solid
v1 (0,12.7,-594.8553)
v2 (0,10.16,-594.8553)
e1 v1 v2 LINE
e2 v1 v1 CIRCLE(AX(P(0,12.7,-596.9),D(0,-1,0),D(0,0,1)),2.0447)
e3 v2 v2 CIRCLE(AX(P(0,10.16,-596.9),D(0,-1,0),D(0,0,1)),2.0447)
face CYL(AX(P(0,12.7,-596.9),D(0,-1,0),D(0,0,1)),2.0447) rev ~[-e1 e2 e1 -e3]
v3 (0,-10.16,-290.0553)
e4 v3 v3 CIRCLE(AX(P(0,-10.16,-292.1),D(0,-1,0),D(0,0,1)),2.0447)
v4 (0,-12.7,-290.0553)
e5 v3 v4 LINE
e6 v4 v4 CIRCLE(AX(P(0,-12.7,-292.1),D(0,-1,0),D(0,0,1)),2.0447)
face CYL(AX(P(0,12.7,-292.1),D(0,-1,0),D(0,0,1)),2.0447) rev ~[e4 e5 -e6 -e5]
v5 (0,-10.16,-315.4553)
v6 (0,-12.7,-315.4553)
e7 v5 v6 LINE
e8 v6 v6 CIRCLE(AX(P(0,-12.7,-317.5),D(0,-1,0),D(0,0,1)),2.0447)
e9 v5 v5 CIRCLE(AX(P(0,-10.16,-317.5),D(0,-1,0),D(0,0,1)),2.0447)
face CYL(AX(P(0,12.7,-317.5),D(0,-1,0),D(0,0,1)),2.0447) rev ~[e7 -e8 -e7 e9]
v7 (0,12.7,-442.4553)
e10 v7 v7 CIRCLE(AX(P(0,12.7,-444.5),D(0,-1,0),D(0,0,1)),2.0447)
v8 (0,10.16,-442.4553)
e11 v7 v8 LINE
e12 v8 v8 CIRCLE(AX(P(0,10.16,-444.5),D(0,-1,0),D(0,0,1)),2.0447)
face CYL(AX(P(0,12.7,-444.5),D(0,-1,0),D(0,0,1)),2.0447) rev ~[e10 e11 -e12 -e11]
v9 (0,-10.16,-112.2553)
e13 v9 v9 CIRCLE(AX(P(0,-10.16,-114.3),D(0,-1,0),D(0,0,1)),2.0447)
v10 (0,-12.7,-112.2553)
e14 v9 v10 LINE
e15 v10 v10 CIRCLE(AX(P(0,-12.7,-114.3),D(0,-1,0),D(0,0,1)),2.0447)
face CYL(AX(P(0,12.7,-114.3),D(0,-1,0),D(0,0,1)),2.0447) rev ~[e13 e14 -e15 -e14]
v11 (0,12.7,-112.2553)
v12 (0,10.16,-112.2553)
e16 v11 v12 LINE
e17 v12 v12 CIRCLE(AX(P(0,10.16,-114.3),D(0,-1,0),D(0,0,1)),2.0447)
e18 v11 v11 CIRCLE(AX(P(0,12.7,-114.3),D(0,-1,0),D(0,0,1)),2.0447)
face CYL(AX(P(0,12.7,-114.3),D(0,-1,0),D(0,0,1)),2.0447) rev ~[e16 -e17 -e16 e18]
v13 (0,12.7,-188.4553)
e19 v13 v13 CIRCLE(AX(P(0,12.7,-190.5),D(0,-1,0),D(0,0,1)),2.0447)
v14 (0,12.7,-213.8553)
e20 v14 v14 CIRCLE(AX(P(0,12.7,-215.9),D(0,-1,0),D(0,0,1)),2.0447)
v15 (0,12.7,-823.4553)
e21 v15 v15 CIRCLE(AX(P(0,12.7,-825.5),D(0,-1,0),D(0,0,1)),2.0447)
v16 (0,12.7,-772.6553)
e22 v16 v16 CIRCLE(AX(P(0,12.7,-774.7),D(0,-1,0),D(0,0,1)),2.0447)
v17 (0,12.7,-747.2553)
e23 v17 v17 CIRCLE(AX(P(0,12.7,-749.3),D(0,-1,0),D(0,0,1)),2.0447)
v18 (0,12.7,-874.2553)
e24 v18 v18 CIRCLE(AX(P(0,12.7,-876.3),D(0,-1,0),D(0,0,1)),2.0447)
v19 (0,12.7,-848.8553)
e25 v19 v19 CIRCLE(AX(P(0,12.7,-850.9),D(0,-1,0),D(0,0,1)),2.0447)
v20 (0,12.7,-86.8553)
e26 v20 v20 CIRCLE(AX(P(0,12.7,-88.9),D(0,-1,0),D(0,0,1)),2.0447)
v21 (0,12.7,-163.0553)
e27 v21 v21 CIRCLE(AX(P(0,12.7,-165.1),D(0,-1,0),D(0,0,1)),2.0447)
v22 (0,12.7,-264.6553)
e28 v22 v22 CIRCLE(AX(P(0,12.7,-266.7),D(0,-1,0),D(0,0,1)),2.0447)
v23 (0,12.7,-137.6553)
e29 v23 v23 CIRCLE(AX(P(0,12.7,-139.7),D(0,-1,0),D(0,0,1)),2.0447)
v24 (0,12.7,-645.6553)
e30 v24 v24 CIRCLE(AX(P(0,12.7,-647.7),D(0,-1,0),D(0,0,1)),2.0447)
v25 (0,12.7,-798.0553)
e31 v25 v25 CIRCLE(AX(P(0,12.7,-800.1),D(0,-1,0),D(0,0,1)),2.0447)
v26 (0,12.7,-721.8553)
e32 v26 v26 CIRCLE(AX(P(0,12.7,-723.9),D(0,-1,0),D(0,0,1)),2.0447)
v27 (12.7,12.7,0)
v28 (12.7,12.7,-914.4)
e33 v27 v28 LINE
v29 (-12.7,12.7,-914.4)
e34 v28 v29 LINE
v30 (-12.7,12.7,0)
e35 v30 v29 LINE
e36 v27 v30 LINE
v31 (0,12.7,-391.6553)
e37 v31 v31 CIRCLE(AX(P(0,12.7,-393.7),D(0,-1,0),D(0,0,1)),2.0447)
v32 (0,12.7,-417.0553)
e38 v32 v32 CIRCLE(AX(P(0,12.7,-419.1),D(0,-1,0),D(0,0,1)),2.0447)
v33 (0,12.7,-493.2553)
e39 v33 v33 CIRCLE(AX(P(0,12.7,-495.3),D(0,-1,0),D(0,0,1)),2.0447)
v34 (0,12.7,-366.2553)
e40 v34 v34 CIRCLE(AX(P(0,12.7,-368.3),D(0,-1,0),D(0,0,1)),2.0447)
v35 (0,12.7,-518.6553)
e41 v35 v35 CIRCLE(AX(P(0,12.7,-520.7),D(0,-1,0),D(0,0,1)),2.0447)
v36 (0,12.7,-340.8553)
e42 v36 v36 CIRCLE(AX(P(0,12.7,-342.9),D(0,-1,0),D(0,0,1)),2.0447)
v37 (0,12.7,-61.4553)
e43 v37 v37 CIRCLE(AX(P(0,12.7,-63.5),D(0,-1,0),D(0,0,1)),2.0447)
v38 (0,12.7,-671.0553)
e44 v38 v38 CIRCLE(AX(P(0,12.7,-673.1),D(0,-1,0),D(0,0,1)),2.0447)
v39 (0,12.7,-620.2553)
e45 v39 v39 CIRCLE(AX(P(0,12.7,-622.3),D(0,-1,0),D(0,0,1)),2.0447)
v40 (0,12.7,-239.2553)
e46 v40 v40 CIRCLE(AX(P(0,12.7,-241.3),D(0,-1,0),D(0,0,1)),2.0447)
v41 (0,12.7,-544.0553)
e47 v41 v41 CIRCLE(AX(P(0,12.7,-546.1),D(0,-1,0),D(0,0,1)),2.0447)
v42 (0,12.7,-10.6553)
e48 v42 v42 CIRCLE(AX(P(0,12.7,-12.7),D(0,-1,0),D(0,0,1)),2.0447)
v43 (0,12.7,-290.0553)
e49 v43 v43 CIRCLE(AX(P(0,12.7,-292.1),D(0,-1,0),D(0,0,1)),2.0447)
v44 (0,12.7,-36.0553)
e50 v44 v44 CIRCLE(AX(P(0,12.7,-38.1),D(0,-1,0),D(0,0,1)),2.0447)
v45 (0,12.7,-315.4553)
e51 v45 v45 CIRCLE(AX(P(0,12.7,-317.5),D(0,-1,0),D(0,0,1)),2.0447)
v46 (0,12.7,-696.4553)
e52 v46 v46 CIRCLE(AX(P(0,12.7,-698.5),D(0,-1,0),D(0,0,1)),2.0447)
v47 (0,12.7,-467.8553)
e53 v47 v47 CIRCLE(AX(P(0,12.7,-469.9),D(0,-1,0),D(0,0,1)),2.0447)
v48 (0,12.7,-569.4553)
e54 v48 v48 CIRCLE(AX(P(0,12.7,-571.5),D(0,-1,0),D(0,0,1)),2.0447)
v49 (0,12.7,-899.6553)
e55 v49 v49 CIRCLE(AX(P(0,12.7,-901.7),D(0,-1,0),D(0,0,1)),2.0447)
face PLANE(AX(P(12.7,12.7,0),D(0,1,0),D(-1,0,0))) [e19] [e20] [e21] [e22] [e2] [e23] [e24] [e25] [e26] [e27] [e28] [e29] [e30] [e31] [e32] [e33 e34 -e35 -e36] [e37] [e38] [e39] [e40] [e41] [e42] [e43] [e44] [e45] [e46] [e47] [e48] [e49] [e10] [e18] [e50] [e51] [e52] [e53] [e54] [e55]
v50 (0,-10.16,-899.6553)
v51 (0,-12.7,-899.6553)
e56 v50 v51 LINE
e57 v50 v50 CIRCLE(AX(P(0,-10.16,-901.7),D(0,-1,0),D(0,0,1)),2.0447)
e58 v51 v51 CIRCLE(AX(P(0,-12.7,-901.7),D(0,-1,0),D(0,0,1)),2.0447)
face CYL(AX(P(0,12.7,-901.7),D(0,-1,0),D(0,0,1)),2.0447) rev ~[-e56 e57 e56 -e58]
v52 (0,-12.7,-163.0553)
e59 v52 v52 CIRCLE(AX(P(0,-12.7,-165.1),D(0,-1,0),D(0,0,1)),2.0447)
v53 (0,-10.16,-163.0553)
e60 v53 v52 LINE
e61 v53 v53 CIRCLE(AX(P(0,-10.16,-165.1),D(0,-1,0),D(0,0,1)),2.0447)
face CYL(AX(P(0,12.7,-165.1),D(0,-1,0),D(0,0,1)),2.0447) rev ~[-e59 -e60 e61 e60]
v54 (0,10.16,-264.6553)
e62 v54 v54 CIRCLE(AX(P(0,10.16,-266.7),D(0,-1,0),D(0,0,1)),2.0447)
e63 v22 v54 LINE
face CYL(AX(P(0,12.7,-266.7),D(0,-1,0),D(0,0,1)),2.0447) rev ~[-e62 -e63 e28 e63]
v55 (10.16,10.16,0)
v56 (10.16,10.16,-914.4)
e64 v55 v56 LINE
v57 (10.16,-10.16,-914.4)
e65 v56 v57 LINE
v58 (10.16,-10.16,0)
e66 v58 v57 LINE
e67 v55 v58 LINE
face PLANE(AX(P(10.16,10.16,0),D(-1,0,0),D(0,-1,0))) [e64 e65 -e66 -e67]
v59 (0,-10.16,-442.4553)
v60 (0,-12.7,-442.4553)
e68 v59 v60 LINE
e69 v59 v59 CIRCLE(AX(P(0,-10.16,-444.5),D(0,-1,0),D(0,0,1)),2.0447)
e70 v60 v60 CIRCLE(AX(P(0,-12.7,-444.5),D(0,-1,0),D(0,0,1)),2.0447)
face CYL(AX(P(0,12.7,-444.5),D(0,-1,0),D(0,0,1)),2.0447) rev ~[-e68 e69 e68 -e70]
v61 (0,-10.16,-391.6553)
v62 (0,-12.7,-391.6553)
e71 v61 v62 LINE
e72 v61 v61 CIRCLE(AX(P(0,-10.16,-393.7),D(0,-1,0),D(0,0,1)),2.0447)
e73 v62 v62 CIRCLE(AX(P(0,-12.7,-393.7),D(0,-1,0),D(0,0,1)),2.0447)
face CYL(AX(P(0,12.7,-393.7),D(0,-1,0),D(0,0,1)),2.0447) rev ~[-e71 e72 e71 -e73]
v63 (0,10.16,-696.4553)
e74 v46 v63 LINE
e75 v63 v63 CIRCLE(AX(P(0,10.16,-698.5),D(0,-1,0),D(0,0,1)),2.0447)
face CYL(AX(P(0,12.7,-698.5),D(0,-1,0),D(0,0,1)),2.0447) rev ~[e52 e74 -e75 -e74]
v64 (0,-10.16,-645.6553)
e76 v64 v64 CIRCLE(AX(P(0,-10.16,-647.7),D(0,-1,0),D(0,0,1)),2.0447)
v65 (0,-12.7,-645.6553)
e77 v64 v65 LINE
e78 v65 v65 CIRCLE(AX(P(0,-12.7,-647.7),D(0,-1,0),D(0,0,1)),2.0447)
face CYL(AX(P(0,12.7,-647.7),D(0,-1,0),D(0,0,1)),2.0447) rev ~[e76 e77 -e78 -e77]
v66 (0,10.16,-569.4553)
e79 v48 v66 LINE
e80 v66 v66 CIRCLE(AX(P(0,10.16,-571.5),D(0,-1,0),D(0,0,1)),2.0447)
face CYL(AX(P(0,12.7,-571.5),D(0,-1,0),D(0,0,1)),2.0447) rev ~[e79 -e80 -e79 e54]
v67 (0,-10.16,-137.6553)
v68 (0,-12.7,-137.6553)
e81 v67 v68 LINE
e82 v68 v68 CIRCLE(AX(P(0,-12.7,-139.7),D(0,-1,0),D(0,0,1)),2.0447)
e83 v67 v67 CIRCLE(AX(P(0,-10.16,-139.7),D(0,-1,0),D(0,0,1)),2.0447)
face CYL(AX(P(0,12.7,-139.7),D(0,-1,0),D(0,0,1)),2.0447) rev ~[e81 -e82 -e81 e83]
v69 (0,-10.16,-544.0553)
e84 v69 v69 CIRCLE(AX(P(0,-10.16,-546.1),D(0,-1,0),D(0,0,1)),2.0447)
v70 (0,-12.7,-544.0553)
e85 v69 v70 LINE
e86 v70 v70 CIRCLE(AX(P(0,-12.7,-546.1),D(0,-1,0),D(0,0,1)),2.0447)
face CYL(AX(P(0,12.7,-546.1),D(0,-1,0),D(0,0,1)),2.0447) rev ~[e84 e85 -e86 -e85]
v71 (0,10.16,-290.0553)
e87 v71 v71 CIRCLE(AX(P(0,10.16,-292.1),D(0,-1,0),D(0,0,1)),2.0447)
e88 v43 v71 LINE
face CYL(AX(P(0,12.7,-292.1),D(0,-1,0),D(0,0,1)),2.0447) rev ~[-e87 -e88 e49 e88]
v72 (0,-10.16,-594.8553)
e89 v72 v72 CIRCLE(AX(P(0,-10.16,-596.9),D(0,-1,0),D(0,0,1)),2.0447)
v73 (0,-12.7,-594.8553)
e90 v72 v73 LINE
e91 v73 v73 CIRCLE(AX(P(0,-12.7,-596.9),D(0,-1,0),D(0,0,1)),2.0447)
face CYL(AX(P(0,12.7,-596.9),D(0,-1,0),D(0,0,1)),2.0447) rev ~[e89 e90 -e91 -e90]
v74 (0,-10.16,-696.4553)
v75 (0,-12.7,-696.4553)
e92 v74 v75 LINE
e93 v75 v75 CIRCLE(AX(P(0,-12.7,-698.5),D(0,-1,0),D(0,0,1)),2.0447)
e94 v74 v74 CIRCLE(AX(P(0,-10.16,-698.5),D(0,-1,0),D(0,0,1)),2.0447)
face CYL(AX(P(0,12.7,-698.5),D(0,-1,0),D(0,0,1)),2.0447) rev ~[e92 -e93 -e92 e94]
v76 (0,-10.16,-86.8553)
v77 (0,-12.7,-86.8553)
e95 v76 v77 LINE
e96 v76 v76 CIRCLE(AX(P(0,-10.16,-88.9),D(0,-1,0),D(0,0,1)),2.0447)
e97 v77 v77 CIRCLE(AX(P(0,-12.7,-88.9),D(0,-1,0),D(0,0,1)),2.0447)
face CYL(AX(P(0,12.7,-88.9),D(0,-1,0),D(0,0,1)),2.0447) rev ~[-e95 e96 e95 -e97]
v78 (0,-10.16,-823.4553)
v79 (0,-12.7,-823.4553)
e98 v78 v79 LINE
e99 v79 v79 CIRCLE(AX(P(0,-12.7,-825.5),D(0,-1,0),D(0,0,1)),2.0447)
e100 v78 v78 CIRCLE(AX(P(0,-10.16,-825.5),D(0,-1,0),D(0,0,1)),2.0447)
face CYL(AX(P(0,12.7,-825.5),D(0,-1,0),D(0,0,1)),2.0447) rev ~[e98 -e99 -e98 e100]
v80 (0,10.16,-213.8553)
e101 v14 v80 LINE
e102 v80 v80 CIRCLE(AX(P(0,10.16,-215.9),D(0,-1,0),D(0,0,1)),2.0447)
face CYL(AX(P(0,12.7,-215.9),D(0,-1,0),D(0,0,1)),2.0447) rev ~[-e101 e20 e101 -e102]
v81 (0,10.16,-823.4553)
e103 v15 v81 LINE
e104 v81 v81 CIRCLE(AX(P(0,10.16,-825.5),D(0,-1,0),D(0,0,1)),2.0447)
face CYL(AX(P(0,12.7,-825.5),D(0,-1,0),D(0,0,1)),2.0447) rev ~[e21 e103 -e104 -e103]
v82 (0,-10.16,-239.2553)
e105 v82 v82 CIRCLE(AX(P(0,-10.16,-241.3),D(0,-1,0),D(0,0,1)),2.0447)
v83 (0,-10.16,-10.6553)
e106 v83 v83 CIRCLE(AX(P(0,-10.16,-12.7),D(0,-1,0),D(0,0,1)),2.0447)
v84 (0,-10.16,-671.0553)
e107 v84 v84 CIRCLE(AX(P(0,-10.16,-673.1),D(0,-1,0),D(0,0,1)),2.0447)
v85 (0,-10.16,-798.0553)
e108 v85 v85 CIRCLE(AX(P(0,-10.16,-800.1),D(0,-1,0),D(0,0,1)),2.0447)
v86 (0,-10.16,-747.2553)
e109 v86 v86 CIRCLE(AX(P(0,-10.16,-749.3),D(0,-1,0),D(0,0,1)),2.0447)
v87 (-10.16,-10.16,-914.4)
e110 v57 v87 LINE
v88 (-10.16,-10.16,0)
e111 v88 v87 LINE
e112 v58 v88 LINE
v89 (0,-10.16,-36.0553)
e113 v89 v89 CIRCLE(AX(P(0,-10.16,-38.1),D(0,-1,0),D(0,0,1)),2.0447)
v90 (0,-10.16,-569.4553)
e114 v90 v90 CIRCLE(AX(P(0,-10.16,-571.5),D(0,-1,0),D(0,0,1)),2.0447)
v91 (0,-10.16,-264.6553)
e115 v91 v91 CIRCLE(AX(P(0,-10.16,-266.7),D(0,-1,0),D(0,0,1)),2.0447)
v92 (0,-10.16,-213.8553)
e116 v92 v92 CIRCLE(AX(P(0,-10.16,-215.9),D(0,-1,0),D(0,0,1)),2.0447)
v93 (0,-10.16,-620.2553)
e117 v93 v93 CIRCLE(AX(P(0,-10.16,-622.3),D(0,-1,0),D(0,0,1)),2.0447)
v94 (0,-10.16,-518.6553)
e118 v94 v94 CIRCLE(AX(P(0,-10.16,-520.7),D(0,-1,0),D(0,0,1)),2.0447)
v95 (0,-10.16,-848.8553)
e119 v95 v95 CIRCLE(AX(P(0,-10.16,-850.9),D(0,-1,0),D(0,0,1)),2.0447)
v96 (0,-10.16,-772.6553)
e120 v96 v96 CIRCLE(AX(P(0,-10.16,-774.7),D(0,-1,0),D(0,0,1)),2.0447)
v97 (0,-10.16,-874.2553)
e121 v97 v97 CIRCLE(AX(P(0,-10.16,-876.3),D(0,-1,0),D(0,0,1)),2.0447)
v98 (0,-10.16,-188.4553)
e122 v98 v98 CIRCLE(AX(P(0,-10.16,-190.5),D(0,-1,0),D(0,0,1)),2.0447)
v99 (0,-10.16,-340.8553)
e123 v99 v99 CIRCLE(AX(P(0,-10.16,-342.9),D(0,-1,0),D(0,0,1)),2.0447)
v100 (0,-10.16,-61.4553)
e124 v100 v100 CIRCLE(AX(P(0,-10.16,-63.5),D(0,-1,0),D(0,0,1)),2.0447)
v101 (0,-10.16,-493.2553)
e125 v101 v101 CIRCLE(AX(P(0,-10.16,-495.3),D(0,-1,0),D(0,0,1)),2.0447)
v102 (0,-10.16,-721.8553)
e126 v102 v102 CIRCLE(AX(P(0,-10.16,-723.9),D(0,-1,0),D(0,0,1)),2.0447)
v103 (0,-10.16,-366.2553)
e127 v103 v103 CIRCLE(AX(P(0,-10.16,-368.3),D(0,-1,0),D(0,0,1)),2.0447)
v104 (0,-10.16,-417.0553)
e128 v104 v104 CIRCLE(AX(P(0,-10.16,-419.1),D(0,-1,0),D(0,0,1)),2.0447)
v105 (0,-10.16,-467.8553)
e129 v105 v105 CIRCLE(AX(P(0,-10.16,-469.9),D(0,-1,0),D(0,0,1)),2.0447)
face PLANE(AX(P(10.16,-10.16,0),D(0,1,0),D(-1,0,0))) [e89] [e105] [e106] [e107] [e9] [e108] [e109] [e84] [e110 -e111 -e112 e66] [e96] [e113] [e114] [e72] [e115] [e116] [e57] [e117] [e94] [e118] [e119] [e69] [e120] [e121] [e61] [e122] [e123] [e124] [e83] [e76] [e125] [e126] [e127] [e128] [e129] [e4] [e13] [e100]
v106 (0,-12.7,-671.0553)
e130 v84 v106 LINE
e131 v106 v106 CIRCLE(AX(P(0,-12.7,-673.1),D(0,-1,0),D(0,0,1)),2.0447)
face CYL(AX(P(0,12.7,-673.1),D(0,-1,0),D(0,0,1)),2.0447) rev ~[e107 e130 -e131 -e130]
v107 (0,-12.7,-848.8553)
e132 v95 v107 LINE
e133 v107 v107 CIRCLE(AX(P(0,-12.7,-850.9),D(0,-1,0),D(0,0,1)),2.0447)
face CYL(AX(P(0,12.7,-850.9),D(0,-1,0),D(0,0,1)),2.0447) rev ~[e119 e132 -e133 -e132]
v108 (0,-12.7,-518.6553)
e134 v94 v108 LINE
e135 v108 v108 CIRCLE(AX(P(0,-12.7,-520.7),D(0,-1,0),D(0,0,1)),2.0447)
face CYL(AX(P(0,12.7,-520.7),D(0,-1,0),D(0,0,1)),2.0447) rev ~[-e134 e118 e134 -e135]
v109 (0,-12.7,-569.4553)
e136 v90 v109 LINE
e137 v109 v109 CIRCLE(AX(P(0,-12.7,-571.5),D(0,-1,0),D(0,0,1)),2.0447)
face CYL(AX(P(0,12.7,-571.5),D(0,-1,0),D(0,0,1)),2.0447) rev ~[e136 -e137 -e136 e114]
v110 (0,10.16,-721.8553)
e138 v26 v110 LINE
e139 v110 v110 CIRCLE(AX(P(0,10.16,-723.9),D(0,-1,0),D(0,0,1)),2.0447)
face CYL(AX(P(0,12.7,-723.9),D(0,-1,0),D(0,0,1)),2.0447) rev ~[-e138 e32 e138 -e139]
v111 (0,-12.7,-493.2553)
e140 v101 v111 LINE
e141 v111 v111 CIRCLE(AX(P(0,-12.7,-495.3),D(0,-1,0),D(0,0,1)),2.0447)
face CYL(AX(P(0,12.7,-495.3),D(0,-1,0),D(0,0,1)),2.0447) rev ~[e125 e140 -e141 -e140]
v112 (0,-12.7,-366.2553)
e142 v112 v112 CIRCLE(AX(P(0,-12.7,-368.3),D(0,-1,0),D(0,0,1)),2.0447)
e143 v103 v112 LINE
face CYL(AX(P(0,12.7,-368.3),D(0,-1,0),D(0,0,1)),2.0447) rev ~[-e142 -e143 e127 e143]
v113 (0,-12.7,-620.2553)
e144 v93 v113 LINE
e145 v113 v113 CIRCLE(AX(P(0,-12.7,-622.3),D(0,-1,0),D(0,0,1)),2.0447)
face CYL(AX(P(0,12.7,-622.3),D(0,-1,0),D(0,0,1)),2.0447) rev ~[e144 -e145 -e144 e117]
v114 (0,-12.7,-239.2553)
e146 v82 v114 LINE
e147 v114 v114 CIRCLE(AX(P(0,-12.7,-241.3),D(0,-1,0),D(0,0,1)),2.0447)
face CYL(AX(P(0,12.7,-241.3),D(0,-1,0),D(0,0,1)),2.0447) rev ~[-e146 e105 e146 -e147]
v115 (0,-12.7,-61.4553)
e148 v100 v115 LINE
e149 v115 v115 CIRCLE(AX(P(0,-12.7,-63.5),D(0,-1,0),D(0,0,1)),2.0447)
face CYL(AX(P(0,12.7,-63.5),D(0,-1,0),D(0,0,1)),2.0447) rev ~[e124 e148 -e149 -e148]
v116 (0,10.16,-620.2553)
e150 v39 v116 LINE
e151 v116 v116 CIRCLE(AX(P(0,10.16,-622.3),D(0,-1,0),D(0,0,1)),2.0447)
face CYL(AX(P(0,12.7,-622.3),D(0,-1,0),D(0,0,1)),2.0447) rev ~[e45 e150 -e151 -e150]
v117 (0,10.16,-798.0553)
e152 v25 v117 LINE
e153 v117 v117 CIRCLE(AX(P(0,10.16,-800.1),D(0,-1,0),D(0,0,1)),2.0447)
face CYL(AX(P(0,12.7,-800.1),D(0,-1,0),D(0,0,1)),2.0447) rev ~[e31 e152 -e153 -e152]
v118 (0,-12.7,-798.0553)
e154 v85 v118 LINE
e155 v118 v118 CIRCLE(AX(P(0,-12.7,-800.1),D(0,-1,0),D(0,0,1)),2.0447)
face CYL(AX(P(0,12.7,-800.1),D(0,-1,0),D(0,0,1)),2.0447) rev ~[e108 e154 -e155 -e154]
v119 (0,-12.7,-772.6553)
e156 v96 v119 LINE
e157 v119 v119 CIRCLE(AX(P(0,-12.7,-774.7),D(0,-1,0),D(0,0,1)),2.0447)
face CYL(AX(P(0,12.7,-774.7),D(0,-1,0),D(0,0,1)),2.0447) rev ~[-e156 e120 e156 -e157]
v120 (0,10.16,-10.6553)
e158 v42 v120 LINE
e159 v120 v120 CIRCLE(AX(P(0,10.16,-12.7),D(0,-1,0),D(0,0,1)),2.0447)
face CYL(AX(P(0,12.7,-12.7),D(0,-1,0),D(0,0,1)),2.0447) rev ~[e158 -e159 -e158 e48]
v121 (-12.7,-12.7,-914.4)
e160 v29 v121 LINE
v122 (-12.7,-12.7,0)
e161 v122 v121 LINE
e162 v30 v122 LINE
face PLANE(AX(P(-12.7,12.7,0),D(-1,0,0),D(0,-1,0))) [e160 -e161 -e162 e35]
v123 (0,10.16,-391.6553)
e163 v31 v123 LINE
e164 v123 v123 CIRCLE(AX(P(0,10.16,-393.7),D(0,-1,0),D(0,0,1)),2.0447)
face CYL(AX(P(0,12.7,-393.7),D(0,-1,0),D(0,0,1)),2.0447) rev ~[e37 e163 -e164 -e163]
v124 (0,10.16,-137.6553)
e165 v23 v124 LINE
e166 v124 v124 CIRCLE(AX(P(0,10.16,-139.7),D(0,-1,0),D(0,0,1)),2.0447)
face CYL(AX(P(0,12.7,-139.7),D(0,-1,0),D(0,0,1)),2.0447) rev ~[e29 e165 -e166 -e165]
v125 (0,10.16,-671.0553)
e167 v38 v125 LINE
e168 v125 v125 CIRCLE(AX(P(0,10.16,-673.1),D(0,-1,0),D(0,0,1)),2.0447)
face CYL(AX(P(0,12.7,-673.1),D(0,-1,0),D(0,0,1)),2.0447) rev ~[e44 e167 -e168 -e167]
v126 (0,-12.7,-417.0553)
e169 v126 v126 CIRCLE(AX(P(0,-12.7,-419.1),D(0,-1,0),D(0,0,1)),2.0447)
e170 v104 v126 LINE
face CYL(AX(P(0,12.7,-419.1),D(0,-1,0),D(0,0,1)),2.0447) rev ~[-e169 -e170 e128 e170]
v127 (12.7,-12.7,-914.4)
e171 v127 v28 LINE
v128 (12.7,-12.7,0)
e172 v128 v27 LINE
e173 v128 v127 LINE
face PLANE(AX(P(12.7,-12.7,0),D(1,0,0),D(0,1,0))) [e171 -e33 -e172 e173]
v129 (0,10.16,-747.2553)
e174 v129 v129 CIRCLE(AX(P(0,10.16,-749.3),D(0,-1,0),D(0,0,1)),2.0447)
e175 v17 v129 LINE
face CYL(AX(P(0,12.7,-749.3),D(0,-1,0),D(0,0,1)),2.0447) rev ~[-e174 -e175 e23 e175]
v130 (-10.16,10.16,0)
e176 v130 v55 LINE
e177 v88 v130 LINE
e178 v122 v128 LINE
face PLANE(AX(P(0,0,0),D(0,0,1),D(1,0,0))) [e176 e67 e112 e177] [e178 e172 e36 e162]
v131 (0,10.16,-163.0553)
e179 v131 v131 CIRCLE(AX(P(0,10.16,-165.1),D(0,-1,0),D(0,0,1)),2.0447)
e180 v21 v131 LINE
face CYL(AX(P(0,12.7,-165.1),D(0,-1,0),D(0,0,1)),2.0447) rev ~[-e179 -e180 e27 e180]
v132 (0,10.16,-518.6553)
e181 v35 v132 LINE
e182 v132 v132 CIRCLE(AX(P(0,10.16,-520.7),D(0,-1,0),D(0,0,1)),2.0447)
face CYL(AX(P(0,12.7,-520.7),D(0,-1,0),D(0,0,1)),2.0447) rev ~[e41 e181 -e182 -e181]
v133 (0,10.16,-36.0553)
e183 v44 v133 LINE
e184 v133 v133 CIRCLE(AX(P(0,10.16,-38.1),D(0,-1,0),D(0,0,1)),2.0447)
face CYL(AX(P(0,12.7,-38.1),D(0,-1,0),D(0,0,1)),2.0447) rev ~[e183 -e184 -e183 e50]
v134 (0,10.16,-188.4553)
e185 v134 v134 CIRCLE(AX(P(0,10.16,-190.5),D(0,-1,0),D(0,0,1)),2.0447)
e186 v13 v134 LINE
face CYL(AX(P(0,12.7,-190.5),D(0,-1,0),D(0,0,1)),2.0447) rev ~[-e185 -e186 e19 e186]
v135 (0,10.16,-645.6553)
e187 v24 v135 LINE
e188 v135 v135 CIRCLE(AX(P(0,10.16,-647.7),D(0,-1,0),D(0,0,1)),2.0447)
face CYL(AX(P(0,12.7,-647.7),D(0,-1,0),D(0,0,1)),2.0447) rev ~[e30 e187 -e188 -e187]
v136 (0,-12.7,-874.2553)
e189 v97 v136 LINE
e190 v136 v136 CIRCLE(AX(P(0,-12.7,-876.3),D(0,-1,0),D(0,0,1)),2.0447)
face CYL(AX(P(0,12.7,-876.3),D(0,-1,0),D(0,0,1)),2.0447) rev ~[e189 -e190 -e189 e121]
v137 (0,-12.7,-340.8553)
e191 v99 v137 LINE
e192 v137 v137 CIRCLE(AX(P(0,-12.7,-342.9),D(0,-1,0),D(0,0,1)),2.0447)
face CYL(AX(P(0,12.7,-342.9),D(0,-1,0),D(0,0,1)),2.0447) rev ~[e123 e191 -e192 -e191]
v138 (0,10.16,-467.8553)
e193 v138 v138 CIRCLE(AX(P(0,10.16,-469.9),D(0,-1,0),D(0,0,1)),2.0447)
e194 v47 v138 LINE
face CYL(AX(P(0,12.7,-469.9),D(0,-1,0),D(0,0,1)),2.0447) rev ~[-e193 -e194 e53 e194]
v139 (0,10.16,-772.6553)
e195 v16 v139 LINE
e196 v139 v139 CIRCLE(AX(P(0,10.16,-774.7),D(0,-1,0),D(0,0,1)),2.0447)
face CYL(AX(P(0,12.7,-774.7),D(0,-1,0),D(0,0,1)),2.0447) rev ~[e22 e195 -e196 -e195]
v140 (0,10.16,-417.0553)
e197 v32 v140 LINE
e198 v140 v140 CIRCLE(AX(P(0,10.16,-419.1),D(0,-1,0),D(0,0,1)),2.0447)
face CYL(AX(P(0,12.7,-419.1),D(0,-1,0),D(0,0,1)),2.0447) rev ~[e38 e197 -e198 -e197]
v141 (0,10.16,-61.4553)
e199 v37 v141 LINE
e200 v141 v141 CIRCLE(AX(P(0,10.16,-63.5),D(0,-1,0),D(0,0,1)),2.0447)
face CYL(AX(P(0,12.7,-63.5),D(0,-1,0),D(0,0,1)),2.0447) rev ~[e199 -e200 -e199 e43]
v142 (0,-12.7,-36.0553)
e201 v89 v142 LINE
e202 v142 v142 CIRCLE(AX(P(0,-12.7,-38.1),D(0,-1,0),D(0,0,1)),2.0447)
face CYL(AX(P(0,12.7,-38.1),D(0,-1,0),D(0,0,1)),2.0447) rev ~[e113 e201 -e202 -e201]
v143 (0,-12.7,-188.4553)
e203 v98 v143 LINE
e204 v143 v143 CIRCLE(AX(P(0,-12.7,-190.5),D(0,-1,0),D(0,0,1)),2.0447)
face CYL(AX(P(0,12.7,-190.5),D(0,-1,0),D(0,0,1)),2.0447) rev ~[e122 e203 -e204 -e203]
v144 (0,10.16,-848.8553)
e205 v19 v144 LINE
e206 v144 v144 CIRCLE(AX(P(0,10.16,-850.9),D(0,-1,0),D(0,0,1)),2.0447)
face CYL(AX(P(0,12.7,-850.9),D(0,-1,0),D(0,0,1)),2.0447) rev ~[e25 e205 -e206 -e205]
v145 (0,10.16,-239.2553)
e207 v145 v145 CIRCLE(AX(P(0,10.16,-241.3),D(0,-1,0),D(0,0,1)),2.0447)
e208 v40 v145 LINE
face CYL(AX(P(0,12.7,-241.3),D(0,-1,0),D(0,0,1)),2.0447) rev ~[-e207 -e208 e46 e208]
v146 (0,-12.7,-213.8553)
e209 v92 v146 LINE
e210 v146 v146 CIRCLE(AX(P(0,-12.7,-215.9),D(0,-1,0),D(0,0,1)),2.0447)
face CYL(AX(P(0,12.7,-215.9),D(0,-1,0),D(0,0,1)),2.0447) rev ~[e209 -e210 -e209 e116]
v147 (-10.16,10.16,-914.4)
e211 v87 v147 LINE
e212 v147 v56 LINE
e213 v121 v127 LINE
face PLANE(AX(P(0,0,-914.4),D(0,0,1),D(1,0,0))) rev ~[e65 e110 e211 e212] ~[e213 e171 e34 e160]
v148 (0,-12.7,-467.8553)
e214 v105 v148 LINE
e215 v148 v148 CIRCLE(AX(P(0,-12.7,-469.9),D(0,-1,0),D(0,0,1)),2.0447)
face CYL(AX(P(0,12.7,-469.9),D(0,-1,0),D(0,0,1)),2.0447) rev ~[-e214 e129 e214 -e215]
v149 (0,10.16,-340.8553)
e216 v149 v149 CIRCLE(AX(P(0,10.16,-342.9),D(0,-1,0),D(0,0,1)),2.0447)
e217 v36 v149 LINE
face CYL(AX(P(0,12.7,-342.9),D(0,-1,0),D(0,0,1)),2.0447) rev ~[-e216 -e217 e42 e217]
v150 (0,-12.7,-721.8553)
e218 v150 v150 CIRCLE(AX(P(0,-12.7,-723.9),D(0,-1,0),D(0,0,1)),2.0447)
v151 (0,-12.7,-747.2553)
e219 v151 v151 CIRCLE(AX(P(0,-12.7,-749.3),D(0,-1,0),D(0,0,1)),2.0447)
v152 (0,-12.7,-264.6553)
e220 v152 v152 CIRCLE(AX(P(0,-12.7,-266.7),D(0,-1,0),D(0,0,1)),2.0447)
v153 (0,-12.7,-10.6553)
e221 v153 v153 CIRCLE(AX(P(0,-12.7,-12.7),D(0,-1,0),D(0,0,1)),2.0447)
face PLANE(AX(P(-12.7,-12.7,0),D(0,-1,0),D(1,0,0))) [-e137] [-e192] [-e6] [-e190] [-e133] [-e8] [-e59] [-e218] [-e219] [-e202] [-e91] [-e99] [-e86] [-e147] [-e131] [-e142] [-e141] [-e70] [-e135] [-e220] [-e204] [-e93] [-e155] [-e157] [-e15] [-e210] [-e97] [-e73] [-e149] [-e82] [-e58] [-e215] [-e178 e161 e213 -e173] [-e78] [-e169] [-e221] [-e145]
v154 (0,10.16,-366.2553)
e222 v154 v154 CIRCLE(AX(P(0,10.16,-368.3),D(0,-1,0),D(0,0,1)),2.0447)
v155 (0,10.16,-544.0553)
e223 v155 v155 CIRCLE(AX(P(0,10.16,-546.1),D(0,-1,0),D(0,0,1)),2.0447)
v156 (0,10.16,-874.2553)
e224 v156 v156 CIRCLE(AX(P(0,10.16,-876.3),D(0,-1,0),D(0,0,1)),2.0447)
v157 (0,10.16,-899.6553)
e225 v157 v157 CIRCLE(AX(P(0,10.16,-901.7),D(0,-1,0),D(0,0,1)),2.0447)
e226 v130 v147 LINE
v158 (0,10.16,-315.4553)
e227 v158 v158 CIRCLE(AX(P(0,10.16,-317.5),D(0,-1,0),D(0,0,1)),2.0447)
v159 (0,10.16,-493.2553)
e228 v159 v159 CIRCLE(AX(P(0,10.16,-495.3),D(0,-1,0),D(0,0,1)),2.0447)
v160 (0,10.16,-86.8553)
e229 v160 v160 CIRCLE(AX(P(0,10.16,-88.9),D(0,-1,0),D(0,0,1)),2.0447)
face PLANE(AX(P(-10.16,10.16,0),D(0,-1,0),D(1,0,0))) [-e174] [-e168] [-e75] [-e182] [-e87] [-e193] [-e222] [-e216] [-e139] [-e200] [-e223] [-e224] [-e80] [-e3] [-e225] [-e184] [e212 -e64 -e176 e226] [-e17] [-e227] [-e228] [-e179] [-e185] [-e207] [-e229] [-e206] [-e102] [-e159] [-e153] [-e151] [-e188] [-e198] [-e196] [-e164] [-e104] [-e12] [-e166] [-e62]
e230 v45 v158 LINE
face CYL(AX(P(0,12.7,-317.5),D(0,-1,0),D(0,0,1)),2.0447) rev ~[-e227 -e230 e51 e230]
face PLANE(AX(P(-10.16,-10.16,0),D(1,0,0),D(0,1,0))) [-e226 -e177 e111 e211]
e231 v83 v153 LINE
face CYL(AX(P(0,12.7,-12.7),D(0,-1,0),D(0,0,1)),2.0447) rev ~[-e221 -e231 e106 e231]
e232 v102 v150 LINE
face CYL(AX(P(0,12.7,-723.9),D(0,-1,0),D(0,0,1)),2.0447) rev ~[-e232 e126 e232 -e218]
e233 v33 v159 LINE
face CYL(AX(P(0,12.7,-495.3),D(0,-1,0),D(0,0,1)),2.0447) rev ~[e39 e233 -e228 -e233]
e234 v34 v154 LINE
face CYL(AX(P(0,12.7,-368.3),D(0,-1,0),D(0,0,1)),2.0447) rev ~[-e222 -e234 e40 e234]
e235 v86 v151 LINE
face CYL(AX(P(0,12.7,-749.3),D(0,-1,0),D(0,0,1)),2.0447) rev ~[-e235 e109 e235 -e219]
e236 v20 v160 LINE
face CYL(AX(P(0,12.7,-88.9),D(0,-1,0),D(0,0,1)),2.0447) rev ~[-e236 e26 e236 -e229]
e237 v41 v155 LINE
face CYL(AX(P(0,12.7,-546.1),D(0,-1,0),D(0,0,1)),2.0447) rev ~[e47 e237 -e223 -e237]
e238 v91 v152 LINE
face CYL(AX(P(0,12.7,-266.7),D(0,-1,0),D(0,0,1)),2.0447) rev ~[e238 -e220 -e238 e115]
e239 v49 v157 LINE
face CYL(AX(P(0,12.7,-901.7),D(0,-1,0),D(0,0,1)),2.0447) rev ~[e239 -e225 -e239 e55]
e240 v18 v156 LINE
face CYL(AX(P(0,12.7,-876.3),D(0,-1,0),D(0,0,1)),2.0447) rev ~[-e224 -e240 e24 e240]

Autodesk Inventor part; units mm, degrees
ref_plane "YZ Plane" through (0, 0, 0) normal (1, 0, 0) x (0, 1, 0)
ref_plane "XZ Plane" through (0, 0, 0) normal (0, 1, 0) x (-1, 0, 0)
ref_plane "XY Plane" through (0, 0, 0) normal (0, 0, 1) x (1, 0, 0)
sketch "Sketch1" plane through (0, 0, 0) normal (0, 0, 1) x (1, 0, 0)
  line L0 (-12.7, -12.7) -> (12.7, -12.7)
  line L1 (12.7, -12.7) -> (12.7, 12.7)
  line L2 (12.7, 12.7) -> (-12.7, 12.7)
  line L3 (-12.7, 12.7) -> (-12.7, -12.7)
  line L4 (-12.7, -12.7) -> (12.7, 12.7) construction
  line L5 (12.7, -12.7) -> (-12.7, 12.7) construction
  line L6 (-10.16, 10.16) -> (10.16, 10.16)
  line L7 (10.16, 10.16) -> (10.16, -10.16)
  line L8 (10.16, -10.16) -> (-10.16, -10.16)
  line L9 (-10.16, -10.16) -> (-10.16, 10.16)
  point P0 (0, 0)
  dimension "l1" = 25.4
  dimension "l2" = 25.4
  dimension "wt" = 2.54
extrude "Extrusion1" add sketch "Sketch1" against normal blind 914.4
sketch "Sketch2" plane through (-12.7, 12.7, 0) normal (0, 1, 0) x (1, 0, 0)
  line L0 (25.4, 0) -> (0, 0) projected
  line L1 (25.4, 0) -> (25.4, 914.4) projected
  line L2 (0, 914.4) -> (25.4, 914.4) projected
  line L3 (0, 0) -> (0, 914.4) projected
  point P0 (12.7, 0)
  point P1 (12.7, 12.7)
  dimension "d5" = 25.4
  dimension "d6" = 12.7
  dimension "d7" = 12.7
hole "Hole3" at (0, 12.7, -12.7) direction (0, -1, 0) diameter 4.0894 end through all
sketch "Sketch3" plane through (12.7, -12.7, 0) normal (1, 0, 0) x (0, 0, -1)
  line L0 (0, 0) -> (0, 25.4) projected
  line L1 (0, 0) -> (914.4, 0) projected
  line L2 (914.4, 25.4) -> (914.4, 0) projected
  line L3 (0, 25.4) -> (914.4, 25.4) projected
  point P0 (0, 12.7)
  point P1 (25.4, 12.7)
  dimension "d22" = 25.4
  dimension "d23" = 12.7
  dimension "d24" = 25.4
hole "Hole4" [suppressed]
pattern_linear "Rectangular Pattern1" count 37 spacing 25.4 along (0, 0, -1) of "Hole3"
pattern_linear "Rectangular Pattern2" [suppressed]
equation "\"d6\" = 0.5 * d5"
equation "\"d23\" = 0.5 * d22"
properties part number "versatubing long boy" material "Aluminum 6061"
